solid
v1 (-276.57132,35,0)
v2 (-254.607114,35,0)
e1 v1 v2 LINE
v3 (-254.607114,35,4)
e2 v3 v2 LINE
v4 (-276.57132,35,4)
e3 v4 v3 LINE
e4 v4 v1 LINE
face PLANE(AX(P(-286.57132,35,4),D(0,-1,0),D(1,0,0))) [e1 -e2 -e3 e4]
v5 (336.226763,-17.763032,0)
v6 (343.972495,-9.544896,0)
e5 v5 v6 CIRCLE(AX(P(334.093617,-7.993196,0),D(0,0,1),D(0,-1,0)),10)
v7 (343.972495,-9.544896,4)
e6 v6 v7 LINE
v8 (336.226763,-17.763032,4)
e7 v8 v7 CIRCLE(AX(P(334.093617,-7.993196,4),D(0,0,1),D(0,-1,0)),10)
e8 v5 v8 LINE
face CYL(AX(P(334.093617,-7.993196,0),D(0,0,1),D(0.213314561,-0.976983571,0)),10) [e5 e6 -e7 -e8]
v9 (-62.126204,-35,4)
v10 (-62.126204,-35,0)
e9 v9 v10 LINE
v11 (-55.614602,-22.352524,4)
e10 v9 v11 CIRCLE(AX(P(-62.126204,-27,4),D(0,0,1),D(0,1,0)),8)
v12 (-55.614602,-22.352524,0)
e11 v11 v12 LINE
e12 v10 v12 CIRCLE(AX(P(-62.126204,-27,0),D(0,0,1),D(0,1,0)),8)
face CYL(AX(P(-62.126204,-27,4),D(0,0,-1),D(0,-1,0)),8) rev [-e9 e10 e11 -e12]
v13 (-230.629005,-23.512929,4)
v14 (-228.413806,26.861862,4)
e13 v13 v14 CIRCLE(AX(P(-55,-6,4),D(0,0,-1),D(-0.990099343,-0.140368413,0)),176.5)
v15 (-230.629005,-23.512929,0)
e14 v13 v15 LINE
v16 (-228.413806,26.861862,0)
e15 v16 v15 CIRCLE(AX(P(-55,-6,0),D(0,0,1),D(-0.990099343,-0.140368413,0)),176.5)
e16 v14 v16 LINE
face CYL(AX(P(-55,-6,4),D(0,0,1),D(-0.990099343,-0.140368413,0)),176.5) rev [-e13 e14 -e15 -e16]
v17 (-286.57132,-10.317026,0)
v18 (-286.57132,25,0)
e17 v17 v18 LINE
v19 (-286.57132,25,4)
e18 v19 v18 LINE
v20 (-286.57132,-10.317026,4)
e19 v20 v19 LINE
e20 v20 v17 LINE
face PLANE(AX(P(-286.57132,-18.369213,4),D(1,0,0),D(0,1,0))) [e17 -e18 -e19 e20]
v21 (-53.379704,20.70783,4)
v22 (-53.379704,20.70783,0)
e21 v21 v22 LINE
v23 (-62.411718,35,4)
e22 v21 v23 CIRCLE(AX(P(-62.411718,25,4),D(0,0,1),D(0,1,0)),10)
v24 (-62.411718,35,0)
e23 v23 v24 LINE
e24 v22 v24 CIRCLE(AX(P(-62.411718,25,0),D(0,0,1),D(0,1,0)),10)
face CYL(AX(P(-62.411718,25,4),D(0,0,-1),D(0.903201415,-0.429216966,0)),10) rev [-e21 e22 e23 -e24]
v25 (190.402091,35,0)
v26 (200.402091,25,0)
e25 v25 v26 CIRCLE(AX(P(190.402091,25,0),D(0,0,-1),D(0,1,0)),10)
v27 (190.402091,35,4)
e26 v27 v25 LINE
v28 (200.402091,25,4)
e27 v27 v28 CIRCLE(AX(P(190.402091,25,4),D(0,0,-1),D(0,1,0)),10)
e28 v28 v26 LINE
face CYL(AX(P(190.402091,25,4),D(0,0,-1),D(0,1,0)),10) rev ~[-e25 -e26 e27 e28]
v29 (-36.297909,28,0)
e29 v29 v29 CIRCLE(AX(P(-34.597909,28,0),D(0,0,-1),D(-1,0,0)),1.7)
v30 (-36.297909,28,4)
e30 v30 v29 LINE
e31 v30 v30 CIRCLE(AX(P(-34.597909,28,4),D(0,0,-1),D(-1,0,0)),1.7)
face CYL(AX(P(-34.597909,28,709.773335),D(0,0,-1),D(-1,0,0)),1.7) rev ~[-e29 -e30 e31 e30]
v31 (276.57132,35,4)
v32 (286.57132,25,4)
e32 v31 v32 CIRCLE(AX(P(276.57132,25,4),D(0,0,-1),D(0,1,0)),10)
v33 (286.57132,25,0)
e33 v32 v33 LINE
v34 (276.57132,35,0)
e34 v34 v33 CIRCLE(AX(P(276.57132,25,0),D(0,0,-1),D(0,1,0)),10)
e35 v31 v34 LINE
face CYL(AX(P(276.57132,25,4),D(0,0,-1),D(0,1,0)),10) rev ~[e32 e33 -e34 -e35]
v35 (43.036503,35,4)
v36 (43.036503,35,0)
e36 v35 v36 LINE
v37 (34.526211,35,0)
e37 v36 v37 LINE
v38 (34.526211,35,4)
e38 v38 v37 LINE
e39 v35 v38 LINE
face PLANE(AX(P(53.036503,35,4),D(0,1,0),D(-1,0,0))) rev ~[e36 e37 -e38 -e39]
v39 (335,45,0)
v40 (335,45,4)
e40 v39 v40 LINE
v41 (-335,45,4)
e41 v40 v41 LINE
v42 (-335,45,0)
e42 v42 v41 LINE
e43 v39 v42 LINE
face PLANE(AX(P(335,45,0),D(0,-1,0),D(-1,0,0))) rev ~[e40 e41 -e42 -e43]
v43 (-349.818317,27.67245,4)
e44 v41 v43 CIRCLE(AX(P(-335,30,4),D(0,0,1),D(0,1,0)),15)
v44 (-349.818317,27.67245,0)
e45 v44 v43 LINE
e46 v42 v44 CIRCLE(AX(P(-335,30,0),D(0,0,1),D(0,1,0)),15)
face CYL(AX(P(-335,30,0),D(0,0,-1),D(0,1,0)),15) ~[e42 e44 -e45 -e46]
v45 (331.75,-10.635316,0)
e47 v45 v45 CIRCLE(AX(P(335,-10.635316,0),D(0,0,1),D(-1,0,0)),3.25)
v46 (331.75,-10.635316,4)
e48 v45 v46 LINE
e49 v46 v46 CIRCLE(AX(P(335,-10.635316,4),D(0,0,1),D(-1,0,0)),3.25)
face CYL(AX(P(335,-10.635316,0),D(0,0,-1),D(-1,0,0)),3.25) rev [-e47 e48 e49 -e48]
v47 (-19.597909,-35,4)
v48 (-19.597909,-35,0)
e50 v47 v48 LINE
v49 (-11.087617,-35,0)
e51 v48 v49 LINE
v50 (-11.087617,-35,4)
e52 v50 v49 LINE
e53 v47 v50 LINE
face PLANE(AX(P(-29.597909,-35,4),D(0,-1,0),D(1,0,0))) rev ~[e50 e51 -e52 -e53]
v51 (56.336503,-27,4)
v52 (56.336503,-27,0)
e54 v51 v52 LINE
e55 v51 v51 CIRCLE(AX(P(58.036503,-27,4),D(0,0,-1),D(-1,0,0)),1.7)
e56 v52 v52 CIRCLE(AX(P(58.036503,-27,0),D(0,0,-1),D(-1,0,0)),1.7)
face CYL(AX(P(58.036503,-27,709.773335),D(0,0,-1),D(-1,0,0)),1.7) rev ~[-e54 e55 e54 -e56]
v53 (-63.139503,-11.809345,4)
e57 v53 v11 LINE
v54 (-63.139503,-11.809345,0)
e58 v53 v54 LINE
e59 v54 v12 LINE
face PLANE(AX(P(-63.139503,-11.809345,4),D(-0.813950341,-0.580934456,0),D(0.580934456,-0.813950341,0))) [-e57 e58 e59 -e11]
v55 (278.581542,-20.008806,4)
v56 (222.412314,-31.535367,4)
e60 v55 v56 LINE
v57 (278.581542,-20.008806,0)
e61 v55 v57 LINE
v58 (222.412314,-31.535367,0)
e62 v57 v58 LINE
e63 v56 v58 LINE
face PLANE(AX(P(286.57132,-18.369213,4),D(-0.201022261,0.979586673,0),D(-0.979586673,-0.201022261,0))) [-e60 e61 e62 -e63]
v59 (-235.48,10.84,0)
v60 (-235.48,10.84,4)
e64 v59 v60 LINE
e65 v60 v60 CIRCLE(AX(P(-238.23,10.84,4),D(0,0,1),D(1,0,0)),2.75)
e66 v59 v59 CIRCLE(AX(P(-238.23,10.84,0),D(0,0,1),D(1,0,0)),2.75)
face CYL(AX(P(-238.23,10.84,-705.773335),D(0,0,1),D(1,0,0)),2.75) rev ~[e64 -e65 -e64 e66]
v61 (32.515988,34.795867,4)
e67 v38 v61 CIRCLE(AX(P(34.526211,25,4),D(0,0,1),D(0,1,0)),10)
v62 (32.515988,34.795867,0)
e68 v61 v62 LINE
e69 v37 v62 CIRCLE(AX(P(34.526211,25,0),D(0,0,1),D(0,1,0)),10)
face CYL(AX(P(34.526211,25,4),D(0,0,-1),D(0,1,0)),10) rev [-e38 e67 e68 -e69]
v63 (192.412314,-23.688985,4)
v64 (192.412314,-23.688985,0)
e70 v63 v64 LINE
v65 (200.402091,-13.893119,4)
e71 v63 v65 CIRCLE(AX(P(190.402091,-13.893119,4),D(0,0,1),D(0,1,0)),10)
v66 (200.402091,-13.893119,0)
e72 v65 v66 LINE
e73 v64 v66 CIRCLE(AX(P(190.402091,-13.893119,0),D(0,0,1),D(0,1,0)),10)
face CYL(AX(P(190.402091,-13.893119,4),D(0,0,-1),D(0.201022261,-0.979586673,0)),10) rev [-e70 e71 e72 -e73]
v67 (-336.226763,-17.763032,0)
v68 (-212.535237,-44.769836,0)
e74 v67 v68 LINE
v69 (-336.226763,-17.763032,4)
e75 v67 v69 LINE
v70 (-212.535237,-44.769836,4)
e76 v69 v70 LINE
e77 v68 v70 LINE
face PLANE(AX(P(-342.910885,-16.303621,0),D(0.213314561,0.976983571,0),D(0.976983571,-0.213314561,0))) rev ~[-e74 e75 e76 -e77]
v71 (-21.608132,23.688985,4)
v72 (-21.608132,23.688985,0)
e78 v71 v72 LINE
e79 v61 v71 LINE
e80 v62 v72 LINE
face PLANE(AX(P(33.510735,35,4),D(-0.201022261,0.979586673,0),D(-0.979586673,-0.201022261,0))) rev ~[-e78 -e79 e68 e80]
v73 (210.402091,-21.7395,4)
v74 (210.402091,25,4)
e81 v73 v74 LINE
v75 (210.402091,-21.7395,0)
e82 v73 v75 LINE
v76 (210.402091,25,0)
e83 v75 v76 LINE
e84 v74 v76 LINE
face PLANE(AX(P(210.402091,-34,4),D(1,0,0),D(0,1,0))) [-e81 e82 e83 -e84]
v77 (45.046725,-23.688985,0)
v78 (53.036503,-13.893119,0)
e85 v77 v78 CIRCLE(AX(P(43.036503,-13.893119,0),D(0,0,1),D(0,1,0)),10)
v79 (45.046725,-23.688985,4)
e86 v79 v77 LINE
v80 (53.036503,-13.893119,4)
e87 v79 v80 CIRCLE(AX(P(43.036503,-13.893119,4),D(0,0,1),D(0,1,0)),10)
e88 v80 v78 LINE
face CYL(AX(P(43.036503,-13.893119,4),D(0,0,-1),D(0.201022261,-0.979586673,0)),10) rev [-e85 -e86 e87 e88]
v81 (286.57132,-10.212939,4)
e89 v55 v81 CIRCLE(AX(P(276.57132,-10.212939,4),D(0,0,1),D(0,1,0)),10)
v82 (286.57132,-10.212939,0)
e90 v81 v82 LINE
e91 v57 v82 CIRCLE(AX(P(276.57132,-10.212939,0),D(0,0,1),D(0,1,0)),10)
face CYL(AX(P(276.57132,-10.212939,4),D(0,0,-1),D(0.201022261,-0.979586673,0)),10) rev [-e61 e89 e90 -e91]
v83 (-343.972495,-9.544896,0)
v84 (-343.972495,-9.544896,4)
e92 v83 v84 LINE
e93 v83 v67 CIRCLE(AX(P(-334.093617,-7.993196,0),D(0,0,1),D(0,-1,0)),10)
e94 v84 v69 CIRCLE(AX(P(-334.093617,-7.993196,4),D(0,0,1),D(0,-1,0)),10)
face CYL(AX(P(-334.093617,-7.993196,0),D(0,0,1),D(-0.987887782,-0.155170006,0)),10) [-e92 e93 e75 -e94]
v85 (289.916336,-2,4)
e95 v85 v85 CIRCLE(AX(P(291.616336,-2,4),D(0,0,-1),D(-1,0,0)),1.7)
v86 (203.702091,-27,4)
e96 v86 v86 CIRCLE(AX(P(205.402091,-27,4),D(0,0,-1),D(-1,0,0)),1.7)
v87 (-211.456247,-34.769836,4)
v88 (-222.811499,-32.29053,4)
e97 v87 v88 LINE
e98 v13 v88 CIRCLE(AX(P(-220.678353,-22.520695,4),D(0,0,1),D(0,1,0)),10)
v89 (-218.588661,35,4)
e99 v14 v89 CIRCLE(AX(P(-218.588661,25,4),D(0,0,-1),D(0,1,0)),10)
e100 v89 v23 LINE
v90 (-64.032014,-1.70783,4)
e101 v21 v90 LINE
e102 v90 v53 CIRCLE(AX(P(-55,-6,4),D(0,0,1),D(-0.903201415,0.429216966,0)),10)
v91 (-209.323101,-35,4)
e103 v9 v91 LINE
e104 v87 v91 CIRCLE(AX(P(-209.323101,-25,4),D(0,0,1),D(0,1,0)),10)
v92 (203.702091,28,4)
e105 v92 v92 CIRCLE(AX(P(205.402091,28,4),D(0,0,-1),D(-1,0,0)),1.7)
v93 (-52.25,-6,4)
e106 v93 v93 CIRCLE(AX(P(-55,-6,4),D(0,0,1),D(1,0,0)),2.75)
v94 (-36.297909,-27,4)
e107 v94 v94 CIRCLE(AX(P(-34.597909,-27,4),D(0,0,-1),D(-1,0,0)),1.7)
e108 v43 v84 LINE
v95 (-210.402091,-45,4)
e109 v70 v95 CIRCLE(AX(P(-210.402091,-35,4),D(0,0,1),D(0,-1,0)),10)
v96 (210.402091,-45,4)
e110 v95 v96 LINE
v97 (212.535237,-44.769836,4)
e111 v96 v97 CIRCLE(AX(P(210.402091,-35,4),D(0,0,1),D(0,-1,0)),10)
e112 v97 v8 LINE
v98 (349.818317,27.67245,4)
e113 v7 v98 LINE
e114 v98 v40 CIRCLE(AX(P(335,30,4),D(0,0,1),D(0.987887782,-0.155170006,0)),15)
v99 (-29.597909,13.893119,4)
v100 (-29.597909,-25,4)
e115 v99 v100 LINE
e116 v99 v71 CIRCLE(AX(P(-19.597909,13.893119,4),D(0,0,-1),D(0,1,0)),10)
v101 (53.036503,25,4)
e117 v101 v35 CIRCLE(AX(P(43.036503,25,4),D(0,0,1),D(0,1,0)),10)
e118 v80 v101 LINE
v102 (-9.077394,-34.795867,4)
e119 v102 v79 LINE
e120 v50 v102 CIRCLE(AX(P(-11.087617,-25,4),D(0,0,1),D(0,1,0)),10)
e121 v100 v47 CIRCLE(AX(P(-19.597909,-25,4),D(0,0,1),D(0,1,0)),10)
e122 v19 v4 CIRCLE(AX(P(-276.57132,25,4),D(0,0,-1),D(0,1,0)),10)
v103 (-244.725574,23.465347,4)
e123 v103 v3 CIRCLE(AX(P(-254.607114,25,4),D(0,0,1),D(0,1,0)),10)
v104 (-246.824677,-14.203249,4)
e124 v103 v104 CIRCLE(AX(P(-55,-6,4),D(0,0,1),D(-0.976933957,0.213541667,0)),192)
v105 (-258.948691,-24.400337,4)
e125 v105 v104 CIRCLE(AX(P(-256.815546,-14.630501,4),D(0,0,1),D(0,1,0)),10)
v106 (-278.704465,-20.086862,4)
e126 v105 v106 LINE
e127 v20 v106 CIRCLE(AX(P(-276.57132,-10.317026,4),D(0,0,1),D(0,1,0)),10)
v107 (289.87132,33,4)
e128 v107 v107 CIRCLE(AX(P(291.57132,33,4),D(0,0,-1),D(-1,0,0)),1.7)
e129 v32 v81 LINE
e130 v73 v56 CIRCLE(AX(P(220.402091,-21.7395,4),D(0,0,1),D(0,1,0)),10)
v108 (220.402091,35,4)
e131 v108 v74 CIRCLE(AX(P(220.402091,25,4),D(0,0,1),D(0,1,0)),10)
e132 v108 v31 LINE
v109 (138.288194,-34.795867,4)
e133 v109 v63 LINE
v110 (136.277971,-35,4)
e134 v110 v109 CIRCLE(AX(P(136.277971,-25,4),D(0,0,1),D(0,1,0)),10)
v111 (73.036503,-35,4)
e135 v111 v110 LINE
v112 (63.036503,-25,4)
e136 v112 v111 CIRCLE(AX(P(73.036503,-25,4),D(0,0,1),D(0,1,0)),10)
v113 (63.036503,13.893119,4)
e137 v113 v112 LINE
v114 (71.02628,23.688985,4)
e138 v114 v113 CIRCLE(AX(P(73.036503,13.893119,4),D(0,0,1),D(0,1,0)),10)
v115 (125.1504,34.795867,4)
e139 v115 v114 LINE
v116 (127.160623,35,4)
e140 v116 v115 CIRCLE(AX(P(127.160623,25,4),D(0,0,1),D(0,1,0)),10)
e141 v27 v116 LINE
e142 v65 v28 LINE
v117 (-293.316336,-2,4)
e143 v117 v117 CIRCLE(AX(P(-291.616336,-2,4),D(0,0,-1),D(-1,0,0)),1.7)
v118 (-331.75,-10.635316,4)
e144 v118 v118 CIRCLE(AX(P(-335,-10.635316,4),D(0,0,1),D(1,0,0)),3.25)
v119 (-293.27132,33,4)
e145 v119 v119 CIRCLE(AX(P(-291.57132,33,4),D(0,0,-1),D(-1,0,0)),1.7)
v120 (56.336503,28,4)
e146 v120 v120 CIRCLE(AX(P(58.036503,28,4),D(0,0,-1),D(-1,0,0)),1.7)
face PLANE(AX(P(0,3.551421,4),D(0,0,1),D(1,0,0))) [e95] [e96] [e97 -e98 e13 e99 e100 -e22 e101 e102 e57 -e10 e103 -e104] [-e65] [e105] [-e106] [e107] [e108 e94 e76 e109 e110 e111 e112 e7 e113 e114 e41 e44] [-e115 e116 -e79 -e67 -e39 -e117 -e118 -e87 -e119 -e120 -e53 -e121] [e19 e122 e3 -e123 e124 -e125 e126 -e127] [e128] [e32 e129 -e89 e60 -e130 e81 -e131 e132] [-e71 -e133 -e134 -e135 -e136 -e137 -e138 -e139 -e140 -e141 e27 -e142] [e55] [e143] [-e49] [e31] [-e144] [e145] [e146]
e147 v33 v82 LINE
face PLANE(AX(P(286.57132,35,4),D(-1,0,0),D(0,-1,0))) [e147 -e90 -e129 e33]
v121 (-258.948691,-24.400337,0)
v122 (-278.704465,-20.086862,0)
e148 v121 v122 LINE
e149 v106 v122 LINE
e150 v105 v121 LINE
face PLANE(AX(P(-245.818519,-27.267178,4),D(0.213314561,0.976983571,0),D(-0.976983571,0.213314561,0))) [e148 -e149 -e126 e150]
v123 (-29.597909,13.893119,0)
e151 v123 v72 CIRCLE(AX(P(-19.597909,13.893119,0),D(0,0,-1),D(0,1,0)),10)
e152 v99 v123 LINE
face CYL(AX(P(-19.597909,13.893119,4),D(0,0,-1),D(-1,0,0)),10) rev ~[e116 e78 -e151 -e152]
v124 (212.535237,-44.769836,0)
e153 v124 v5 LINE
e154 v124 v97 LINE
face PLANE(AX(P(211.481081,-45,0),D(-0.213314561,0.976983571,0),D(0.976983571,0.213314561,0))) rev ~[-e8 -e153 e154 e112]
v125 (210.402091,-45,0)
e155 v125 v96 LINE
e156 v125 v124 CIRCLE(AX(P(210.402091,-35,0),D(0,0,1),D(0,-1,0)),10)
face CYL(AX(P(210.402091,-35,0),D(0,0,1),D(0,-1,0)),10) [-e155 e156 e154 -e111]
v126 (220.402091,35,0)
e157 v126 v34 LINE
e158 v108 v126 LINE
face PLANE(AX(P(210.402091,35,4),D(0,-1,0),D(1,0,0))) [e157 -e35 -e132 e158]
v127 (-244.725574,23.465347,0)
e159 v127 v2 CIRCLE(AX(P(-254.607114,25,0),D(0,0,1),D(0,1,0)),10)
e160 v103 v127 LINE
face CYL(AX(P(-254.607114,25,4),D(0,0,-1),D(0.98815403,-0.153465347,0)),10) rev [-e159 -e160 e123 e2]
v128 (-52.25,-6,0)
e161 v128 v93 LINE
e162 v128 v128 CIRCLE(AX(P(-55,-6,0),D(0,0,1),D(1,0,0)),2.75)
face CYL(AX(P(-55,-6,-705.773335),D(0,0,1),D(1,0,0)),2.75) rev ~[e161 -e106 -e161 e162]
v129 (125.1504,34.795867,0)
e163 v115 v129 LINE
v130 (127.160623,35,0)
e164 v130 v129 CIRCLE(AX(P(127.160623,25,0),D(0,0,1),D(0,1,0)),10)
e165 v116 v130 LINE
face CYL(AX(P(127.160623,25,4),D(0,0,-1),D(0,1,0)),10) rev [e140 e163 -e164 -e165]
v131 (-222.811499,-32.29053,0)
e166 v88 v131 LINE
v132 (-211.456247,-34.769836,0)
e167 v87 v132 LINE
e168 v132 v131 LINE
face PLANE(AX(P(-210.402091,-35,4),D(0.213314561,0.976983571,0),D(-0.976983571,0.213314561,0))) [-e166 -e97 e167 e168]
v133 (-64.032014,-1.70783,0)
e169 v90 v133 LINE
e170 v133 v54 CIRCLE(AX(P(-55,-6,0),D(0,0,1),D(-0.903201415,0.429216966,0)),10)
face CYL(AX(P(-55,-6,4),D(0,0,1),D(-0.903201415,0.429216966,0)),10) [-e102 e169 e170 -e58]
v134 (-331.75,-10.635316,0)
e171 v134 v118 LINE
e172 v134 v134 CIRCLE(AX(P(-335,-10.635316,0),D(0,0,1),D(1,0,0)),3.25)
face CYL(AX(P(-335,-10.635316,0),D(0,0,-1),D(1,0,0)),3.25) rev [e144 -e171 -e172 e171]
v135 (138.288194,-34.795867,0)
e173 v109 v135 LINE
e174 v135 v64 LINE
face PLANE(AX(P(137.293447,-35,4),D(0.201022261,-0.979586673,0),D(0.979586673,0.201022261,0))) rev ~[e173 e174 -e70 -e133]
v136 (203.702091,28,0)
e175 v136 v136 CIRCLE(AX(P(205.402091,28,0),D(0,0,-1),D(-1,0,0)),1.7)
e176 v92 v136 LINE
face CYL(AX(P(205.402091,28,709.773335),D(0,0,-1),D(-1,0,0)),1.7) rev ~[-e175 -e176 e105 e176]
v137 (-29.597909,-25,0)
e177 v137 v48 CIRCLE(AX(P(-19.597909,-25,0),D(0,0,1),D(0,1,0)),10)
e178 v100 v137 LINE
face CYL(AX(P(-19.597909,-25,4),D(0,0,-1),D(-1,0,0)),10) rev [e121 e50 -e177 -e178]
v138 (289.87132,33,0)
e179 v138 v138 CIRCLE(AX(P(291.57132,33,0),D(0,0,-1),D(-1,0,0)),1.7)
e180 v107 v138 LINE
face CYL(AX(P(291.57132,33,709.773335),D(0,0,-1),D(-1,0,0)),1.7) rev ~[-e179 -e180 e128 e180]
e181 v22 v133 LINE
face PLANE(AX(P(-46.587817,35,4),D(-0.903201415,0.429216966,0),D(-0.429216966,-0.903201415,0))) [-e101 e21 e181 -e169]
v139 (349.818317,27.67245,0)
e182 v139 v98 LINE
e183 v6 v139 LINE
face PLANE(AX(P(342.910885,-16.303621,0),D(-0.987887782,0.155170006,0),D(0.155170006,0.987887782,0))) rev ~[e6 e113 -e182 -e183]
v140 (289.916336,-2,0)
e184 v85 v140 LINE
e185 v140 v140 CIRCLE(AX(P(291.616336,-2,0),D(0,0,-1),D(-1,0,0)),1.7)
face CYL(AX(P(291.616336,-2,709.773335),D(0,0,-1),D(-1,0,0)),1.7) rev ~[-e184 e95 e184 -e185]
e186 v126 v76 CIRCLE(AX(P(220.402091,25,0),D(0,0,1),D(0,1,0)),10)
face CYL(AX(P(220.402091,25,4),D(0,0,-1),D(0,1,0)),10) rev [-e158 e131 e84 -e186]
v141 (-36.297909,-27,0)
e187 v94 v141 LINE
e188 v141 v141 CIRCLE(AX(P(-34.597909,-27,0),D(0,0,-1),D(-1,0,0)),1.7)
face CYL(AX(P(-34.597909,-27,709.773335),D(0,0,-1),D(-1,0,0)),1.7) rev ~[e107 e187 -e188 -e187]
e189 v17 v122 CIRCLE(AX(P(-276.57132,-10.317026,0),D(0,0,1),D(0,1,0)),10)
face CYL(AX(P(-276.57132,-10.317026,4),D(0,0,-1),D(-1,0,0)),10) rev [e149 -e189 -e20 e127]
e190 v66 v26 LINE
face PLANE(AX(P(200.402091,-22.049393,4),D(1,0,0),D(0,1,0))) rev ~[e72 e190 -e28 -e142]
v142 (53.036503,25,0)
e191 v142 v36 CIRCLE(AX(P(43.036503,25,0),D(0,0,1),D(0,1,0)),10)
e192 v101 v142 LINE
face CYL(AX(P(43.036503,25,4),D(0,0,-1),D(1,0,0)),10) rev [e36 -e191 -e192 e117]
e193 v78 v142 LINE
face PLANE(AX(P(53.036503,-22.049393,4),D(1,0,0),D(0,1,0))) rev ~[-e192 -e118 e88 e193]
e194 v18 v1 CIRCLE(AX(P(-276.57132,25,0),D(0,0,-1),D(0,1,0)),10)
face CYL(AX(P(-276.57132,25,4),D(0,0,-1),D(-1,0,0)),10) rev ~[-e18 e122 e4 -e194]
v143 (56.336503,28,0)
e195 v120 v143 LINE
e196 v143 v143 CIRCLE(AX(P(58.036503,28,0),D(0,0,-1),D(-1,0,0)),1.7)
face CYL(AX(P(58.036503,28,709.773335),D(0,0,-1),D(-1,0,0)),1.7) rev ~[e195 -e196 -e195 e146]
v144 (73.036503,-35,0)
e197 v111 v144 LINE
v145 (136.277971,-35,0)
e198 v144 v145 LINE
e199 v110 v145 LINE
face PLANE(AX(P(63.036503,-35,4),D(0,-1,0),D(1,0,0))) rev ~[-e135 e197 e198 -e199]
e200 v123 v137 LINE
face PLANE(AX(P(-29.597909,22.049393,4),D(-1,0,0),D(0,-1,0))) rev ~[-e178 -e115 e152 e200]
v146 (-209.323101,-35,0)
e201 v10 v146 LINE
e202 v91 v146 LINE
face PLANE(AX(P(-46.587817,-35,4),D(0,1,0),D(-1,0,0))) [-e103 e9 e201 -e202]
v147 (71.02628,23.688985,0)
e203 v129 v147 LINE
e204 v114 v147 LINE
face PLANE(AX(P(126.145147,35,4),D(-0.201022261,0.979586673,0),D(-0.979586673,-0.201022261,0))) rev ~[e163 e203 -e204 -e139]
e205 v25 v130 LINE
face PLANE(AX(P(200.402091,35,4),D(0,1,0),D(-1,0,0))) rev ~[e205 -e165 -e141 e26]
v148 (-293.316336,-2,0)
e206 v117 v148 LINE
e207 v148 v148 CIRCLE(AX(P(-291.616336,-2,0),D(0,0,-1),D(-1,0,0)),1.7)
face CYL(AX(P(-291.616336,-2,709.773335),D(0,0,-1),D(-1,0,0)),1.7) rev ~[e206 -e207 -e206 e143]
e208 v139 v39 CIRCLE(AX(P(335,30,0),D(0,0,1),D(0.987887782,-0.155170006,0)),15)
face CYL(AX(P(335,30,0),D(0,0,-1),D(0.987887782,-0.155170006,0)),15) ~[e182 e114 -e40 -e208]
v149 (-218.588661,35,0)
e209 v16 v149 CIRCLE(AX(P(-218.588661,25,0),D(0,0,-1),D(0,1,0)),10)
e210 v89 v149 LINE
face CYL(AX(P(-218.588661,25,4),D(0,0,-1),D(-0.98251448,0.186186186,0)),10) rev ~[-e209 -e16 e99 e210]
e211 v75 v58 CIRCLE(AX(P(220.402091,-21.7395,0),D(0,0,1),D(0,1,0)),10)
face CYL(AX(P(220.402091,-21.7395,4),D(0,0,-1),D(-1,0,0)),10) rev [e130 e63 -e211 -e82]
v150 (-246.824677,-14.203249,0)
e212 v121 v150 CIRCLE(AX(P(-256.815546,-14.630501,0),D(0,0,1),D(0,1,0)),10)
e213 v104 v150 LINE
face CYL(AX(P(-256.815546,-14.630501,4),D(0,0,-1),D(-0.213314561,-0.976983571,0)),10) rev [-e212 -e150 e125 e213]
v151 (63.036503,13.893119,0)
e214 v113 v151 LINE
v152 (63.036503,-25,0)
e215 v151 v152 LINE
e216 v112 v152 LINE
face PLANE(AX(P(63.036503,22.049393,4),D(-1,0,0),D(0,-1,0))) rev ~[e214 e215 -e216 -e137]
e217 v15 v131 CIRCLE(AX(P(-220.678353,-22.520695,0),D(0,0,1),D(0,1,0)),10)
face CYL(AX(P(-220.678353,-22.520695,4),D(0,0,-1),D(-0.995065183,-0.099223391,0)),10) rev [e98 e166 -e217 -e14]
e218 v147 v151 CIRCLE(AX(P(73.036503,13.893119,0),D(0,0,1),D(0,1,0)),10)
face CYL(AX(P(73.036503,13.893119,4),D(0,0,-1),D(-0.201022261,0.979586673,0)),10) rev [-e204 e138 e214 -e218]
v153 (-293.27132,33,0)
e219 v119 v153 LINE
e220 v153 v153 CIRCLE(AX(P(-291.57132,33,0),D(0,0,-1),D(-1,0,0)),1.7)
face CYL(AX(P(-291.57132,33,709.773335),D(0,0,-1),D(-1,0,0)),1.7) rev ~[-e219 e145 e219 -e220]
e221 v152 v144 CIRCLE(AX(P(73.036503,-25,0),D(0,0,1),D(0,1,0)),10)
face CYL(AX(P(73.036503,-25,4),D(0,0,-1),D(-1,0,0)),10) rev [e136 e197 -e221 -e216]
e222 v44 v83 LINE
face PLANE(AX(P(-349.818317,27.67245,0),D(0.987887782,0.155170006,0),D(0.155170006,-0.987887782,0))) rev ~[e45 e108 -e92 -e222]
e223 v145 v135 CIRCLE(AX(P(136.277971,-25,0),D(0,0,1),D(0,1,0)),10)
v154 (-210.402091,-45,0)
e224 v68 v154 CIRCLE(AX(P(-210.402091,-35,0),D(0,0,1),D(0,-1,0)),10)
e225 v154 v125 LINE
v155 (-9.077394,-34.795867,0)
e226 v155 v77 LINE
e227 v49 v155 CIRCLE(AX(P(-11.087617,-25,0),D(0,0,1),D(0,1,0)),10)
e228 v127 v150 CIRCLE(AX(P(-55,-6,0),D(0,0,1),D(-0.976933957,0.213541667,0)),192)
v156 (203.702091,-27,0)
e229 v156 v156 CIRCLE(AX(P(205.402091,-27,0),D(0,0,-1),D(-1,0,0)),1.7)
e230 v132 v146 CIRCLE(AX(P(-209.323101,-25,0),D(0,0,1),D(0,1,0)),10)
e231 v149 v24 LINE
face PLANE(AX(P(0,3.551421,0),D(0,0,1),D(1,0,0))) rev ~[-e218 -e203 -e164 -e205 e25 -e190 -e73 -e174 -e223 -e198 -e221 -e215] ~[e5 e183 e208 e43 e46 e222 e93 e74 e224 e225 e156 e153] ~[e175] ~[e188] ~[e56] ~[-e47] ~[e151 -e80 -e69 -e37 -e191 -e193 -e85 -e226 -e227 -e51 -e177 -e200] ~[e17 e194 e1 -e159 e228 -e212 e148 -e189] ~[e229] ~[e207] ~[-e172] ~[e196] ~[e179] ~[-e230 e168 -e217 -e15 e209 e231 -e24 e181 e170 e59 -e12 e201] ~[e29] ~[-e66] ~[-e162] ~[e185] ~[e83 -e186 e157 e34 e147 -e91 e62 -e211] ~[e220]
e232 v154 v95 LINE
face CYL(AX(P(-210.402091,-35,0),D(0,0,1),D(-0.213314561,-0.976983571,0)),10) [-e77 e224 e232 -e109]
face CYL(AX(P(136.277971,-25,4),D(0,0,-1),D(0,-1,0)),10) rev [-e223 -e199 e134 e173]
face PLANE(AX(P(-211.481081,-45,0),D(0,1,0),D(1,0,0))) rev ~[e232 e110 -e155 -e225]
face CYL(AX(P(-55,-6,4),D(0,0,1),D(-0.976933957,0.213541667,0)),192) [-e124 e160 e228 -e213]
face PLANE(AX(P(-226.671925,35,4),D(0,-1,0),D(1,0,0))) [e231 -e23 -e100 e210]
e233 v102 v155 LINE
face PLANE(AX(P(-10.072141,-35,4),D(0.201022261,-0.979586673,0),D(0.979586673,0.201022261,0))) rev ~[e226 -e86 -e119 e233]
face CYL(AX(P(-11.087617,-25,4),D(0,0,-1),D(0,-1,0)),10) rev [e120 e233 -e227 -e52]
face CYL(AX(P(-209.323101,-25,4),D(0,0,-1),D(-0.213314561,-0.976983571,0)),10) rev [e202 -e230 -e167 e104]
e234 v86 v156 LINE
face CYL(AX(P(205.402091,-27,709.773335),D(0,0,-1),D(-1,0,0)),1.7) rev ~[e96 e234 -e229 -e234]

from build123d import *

# Parameters (mm, degrees)
SKETCH_1_R          = 3.25
EXTRUDE_1_DEPTH     = 4
HOLE_WIZARD_M52_D   = 5.5
CUT_EXTRUDE_3_DEPTH = 353.903669576
FILLET_2_R          = 10
FILLET_3_R          = 10
HOLE_WIZARD_M31_D   = 3.4
FILLET_4_R          = 8


with BuildPart() as part:
    # Эскиз1 → Бобышка-Вытянуть1 (new body)
    with BuildSketch(Plane.XY):
        with BuildLine():
            Line((-349.818316726, 27.672449915), (-342.910885265, -16.303620822))
            Line((-342.910885265, -16.303620822), (-211.481081006, -45))
            Line((-211.481081006, -45), (211.481081006, -45))
            Line((211.481081006, -45), (342.910885265, -16.303620822))
            Line((342.910885265, -16.303620822), (349.818316726, 27.672449915))
            ThreePointArc((349.818316726, 27.672449915), (346.399852001, 39.749019149), (335, 45))
            Line((335, 45), (-335, 45))
            ThreePointArc((-335, 45), (-346.399852001, 39.749019149), (-349.818316726, 27.672449915))
        make_face()
        with Locations((-335, -10.635315981)):
            Circle(SKETCH_1_R, mode=Mode.SUBTRACT)
        with Locations(Location((335, -10.635315981, 0), (0, 0, 180))):
            Circle(SKETCH_1_R, mode=Mode.SUBTRACT)
    extrude(amount=EXTRUDE_1_DEPTH)

    # Отверстие с зазором M52 (through all)
    with Locations(Plane(origin=(0, 0, 0), x_dir=(-1, 0, 0), z_dir=(0, 0, -1))):
        with Locations((55, -6), (238.23, 10.84)):
            Hole(HOLE_WIZARD_M52_D / 2)

    # Эскиз10 → Вырез-Вытянуть3 (cut, through all)
    with BuildSketch(Plane.XY.offset(4)):
        with BuildLine():
            Line((-286.571319769, 35), (-242.571319769, 35))
            ThreePointArc((-242.571319769, 35), (-246.739453064, 3.999106889), (-245.818518827, -27.267178292))
            Line((-245.818518827, -27.267178292), (-286.571319769, -18.369213063))
            Line((-286.571319769, -18.369213063), (-286.571319769, 35))
        make_face()
        with BuildLine():
            Line((-226.671925486, 35), (-46.587816989, 35))
            Line((-46.587816989, 35), (-64.032014151, -1.707830342))
            ThreePointArc((-64.032014151, -1.707830342), (-64.961194769, -6.880112935), (-63.13950341, -11.809344562))
            Line((-63.13950341, -11.809344562), (-46.587816989, -35))
            Line((-46.587816989, -35), (-210.402090952, -35))
            Line((-210.402090952, -35), (-229.752534006, -30.775024894))
            ThreePointArc((-229.752534006, -30.775024894), (-231.306735573, 2.257420391), (-226.671925486, 35))
        make_face()
        Polygon((286.571319769, 35), (286.571319769, -18.369213063), (210.402090952, -34), (210.402090952, 35), align=None)
        Polygon((200.402090952, 35), (126.145146633, 35), (63.036502818, 22.049392771), (63.036502818, -35), (137.293447136, -35), (200.402090952, -22.049392771), align=None)
        Polygon((-29.597909048, 22.049392771), (-29.597909048, -35), (-10.072140997, -35), (53.036502818, -22.049392771), (53.036502818, 35), (33.510734767, 35), align=None)
    extrude(amount=-CUT_EXTRUDE_3_DEPTH, mode=Mode.SUBTRACT)

    # Скругление2
    fillet_2_edges = [part.edges().sort_by_distance(p)[0] for p in [
        (342.910885265, -16.303620822, 2),
        (211.481081006, -45, 2),
        (-211.481081006, -45, 2),
        (-342.910885265, -16.303620822, 2),
        (-286.571319769, -18.369213063, 2),
        (-286.571319769, 35, 2),
        (-242.571319769, 35, 2),
        (-245.818518827, -27.267178292, 2),
        (210.402090952, 35, 2),
        (286.571319769, 35, 2),
        (286.571319769, -18.369213063, 2),
        (210.402090952, -34, 2),
        (-210.402090952, -35, 2),
        (-229.752534006, -30.775024894, 2),
        (-226.671925486, 35, 2),
        (-46.587816989, 35, 2),
    ]]
    fillet(fillet_2_edges, radius=FILLET_2_R)

    # Скругление3
    fillet_3_edges = [part.edges().sort_by_distance(p)[0] for p in [
        (33.510734767, 35, 2),
        (53.036502818, 35, 2),
        (53.036502818, -22.049392771, 2),
        (-10.072140997, -35, 2),
        (-29.597909048, -35, 2),
        (-29.597909048, 22.049392771, 2),
        (63.036502818, 22.049392771, 2),
        (126.145146633, 35, 2),
        (200.402090952, 35, 2),
        (200.402090952, -22.049392771, 2),
        (137.293447136, -35, 2),
        (63.036502818, -35, 2),
    ]]
    fillet(fillet_3_edges, radius=FILLET_3_R)

    # Отверстие с зазором M31 (through all)
    with Locations(Plane.XY.offset(4)):
        with Locations((-34.597909048, 28), (-34.597909048, -27), (205.402090952, -27), (205.402090952, 28), (291.571319769, 33), (291.6163356, -2), (-291.6163356, -2), (-291.571319769, 33), (58.036502818, 28), (58.036502818, -27)):
            Hole(HOLE_WIZARD_M31_D / 2)

    # Скругление4
    fillet_4_edges = [part.edges().sort_by_distance(p)[0] for p in [
        (-46.587816989, -35, 2),
    ]]
    fillet(fillet_4_edges, radius=FILLET_4_R)


solid = part.part
